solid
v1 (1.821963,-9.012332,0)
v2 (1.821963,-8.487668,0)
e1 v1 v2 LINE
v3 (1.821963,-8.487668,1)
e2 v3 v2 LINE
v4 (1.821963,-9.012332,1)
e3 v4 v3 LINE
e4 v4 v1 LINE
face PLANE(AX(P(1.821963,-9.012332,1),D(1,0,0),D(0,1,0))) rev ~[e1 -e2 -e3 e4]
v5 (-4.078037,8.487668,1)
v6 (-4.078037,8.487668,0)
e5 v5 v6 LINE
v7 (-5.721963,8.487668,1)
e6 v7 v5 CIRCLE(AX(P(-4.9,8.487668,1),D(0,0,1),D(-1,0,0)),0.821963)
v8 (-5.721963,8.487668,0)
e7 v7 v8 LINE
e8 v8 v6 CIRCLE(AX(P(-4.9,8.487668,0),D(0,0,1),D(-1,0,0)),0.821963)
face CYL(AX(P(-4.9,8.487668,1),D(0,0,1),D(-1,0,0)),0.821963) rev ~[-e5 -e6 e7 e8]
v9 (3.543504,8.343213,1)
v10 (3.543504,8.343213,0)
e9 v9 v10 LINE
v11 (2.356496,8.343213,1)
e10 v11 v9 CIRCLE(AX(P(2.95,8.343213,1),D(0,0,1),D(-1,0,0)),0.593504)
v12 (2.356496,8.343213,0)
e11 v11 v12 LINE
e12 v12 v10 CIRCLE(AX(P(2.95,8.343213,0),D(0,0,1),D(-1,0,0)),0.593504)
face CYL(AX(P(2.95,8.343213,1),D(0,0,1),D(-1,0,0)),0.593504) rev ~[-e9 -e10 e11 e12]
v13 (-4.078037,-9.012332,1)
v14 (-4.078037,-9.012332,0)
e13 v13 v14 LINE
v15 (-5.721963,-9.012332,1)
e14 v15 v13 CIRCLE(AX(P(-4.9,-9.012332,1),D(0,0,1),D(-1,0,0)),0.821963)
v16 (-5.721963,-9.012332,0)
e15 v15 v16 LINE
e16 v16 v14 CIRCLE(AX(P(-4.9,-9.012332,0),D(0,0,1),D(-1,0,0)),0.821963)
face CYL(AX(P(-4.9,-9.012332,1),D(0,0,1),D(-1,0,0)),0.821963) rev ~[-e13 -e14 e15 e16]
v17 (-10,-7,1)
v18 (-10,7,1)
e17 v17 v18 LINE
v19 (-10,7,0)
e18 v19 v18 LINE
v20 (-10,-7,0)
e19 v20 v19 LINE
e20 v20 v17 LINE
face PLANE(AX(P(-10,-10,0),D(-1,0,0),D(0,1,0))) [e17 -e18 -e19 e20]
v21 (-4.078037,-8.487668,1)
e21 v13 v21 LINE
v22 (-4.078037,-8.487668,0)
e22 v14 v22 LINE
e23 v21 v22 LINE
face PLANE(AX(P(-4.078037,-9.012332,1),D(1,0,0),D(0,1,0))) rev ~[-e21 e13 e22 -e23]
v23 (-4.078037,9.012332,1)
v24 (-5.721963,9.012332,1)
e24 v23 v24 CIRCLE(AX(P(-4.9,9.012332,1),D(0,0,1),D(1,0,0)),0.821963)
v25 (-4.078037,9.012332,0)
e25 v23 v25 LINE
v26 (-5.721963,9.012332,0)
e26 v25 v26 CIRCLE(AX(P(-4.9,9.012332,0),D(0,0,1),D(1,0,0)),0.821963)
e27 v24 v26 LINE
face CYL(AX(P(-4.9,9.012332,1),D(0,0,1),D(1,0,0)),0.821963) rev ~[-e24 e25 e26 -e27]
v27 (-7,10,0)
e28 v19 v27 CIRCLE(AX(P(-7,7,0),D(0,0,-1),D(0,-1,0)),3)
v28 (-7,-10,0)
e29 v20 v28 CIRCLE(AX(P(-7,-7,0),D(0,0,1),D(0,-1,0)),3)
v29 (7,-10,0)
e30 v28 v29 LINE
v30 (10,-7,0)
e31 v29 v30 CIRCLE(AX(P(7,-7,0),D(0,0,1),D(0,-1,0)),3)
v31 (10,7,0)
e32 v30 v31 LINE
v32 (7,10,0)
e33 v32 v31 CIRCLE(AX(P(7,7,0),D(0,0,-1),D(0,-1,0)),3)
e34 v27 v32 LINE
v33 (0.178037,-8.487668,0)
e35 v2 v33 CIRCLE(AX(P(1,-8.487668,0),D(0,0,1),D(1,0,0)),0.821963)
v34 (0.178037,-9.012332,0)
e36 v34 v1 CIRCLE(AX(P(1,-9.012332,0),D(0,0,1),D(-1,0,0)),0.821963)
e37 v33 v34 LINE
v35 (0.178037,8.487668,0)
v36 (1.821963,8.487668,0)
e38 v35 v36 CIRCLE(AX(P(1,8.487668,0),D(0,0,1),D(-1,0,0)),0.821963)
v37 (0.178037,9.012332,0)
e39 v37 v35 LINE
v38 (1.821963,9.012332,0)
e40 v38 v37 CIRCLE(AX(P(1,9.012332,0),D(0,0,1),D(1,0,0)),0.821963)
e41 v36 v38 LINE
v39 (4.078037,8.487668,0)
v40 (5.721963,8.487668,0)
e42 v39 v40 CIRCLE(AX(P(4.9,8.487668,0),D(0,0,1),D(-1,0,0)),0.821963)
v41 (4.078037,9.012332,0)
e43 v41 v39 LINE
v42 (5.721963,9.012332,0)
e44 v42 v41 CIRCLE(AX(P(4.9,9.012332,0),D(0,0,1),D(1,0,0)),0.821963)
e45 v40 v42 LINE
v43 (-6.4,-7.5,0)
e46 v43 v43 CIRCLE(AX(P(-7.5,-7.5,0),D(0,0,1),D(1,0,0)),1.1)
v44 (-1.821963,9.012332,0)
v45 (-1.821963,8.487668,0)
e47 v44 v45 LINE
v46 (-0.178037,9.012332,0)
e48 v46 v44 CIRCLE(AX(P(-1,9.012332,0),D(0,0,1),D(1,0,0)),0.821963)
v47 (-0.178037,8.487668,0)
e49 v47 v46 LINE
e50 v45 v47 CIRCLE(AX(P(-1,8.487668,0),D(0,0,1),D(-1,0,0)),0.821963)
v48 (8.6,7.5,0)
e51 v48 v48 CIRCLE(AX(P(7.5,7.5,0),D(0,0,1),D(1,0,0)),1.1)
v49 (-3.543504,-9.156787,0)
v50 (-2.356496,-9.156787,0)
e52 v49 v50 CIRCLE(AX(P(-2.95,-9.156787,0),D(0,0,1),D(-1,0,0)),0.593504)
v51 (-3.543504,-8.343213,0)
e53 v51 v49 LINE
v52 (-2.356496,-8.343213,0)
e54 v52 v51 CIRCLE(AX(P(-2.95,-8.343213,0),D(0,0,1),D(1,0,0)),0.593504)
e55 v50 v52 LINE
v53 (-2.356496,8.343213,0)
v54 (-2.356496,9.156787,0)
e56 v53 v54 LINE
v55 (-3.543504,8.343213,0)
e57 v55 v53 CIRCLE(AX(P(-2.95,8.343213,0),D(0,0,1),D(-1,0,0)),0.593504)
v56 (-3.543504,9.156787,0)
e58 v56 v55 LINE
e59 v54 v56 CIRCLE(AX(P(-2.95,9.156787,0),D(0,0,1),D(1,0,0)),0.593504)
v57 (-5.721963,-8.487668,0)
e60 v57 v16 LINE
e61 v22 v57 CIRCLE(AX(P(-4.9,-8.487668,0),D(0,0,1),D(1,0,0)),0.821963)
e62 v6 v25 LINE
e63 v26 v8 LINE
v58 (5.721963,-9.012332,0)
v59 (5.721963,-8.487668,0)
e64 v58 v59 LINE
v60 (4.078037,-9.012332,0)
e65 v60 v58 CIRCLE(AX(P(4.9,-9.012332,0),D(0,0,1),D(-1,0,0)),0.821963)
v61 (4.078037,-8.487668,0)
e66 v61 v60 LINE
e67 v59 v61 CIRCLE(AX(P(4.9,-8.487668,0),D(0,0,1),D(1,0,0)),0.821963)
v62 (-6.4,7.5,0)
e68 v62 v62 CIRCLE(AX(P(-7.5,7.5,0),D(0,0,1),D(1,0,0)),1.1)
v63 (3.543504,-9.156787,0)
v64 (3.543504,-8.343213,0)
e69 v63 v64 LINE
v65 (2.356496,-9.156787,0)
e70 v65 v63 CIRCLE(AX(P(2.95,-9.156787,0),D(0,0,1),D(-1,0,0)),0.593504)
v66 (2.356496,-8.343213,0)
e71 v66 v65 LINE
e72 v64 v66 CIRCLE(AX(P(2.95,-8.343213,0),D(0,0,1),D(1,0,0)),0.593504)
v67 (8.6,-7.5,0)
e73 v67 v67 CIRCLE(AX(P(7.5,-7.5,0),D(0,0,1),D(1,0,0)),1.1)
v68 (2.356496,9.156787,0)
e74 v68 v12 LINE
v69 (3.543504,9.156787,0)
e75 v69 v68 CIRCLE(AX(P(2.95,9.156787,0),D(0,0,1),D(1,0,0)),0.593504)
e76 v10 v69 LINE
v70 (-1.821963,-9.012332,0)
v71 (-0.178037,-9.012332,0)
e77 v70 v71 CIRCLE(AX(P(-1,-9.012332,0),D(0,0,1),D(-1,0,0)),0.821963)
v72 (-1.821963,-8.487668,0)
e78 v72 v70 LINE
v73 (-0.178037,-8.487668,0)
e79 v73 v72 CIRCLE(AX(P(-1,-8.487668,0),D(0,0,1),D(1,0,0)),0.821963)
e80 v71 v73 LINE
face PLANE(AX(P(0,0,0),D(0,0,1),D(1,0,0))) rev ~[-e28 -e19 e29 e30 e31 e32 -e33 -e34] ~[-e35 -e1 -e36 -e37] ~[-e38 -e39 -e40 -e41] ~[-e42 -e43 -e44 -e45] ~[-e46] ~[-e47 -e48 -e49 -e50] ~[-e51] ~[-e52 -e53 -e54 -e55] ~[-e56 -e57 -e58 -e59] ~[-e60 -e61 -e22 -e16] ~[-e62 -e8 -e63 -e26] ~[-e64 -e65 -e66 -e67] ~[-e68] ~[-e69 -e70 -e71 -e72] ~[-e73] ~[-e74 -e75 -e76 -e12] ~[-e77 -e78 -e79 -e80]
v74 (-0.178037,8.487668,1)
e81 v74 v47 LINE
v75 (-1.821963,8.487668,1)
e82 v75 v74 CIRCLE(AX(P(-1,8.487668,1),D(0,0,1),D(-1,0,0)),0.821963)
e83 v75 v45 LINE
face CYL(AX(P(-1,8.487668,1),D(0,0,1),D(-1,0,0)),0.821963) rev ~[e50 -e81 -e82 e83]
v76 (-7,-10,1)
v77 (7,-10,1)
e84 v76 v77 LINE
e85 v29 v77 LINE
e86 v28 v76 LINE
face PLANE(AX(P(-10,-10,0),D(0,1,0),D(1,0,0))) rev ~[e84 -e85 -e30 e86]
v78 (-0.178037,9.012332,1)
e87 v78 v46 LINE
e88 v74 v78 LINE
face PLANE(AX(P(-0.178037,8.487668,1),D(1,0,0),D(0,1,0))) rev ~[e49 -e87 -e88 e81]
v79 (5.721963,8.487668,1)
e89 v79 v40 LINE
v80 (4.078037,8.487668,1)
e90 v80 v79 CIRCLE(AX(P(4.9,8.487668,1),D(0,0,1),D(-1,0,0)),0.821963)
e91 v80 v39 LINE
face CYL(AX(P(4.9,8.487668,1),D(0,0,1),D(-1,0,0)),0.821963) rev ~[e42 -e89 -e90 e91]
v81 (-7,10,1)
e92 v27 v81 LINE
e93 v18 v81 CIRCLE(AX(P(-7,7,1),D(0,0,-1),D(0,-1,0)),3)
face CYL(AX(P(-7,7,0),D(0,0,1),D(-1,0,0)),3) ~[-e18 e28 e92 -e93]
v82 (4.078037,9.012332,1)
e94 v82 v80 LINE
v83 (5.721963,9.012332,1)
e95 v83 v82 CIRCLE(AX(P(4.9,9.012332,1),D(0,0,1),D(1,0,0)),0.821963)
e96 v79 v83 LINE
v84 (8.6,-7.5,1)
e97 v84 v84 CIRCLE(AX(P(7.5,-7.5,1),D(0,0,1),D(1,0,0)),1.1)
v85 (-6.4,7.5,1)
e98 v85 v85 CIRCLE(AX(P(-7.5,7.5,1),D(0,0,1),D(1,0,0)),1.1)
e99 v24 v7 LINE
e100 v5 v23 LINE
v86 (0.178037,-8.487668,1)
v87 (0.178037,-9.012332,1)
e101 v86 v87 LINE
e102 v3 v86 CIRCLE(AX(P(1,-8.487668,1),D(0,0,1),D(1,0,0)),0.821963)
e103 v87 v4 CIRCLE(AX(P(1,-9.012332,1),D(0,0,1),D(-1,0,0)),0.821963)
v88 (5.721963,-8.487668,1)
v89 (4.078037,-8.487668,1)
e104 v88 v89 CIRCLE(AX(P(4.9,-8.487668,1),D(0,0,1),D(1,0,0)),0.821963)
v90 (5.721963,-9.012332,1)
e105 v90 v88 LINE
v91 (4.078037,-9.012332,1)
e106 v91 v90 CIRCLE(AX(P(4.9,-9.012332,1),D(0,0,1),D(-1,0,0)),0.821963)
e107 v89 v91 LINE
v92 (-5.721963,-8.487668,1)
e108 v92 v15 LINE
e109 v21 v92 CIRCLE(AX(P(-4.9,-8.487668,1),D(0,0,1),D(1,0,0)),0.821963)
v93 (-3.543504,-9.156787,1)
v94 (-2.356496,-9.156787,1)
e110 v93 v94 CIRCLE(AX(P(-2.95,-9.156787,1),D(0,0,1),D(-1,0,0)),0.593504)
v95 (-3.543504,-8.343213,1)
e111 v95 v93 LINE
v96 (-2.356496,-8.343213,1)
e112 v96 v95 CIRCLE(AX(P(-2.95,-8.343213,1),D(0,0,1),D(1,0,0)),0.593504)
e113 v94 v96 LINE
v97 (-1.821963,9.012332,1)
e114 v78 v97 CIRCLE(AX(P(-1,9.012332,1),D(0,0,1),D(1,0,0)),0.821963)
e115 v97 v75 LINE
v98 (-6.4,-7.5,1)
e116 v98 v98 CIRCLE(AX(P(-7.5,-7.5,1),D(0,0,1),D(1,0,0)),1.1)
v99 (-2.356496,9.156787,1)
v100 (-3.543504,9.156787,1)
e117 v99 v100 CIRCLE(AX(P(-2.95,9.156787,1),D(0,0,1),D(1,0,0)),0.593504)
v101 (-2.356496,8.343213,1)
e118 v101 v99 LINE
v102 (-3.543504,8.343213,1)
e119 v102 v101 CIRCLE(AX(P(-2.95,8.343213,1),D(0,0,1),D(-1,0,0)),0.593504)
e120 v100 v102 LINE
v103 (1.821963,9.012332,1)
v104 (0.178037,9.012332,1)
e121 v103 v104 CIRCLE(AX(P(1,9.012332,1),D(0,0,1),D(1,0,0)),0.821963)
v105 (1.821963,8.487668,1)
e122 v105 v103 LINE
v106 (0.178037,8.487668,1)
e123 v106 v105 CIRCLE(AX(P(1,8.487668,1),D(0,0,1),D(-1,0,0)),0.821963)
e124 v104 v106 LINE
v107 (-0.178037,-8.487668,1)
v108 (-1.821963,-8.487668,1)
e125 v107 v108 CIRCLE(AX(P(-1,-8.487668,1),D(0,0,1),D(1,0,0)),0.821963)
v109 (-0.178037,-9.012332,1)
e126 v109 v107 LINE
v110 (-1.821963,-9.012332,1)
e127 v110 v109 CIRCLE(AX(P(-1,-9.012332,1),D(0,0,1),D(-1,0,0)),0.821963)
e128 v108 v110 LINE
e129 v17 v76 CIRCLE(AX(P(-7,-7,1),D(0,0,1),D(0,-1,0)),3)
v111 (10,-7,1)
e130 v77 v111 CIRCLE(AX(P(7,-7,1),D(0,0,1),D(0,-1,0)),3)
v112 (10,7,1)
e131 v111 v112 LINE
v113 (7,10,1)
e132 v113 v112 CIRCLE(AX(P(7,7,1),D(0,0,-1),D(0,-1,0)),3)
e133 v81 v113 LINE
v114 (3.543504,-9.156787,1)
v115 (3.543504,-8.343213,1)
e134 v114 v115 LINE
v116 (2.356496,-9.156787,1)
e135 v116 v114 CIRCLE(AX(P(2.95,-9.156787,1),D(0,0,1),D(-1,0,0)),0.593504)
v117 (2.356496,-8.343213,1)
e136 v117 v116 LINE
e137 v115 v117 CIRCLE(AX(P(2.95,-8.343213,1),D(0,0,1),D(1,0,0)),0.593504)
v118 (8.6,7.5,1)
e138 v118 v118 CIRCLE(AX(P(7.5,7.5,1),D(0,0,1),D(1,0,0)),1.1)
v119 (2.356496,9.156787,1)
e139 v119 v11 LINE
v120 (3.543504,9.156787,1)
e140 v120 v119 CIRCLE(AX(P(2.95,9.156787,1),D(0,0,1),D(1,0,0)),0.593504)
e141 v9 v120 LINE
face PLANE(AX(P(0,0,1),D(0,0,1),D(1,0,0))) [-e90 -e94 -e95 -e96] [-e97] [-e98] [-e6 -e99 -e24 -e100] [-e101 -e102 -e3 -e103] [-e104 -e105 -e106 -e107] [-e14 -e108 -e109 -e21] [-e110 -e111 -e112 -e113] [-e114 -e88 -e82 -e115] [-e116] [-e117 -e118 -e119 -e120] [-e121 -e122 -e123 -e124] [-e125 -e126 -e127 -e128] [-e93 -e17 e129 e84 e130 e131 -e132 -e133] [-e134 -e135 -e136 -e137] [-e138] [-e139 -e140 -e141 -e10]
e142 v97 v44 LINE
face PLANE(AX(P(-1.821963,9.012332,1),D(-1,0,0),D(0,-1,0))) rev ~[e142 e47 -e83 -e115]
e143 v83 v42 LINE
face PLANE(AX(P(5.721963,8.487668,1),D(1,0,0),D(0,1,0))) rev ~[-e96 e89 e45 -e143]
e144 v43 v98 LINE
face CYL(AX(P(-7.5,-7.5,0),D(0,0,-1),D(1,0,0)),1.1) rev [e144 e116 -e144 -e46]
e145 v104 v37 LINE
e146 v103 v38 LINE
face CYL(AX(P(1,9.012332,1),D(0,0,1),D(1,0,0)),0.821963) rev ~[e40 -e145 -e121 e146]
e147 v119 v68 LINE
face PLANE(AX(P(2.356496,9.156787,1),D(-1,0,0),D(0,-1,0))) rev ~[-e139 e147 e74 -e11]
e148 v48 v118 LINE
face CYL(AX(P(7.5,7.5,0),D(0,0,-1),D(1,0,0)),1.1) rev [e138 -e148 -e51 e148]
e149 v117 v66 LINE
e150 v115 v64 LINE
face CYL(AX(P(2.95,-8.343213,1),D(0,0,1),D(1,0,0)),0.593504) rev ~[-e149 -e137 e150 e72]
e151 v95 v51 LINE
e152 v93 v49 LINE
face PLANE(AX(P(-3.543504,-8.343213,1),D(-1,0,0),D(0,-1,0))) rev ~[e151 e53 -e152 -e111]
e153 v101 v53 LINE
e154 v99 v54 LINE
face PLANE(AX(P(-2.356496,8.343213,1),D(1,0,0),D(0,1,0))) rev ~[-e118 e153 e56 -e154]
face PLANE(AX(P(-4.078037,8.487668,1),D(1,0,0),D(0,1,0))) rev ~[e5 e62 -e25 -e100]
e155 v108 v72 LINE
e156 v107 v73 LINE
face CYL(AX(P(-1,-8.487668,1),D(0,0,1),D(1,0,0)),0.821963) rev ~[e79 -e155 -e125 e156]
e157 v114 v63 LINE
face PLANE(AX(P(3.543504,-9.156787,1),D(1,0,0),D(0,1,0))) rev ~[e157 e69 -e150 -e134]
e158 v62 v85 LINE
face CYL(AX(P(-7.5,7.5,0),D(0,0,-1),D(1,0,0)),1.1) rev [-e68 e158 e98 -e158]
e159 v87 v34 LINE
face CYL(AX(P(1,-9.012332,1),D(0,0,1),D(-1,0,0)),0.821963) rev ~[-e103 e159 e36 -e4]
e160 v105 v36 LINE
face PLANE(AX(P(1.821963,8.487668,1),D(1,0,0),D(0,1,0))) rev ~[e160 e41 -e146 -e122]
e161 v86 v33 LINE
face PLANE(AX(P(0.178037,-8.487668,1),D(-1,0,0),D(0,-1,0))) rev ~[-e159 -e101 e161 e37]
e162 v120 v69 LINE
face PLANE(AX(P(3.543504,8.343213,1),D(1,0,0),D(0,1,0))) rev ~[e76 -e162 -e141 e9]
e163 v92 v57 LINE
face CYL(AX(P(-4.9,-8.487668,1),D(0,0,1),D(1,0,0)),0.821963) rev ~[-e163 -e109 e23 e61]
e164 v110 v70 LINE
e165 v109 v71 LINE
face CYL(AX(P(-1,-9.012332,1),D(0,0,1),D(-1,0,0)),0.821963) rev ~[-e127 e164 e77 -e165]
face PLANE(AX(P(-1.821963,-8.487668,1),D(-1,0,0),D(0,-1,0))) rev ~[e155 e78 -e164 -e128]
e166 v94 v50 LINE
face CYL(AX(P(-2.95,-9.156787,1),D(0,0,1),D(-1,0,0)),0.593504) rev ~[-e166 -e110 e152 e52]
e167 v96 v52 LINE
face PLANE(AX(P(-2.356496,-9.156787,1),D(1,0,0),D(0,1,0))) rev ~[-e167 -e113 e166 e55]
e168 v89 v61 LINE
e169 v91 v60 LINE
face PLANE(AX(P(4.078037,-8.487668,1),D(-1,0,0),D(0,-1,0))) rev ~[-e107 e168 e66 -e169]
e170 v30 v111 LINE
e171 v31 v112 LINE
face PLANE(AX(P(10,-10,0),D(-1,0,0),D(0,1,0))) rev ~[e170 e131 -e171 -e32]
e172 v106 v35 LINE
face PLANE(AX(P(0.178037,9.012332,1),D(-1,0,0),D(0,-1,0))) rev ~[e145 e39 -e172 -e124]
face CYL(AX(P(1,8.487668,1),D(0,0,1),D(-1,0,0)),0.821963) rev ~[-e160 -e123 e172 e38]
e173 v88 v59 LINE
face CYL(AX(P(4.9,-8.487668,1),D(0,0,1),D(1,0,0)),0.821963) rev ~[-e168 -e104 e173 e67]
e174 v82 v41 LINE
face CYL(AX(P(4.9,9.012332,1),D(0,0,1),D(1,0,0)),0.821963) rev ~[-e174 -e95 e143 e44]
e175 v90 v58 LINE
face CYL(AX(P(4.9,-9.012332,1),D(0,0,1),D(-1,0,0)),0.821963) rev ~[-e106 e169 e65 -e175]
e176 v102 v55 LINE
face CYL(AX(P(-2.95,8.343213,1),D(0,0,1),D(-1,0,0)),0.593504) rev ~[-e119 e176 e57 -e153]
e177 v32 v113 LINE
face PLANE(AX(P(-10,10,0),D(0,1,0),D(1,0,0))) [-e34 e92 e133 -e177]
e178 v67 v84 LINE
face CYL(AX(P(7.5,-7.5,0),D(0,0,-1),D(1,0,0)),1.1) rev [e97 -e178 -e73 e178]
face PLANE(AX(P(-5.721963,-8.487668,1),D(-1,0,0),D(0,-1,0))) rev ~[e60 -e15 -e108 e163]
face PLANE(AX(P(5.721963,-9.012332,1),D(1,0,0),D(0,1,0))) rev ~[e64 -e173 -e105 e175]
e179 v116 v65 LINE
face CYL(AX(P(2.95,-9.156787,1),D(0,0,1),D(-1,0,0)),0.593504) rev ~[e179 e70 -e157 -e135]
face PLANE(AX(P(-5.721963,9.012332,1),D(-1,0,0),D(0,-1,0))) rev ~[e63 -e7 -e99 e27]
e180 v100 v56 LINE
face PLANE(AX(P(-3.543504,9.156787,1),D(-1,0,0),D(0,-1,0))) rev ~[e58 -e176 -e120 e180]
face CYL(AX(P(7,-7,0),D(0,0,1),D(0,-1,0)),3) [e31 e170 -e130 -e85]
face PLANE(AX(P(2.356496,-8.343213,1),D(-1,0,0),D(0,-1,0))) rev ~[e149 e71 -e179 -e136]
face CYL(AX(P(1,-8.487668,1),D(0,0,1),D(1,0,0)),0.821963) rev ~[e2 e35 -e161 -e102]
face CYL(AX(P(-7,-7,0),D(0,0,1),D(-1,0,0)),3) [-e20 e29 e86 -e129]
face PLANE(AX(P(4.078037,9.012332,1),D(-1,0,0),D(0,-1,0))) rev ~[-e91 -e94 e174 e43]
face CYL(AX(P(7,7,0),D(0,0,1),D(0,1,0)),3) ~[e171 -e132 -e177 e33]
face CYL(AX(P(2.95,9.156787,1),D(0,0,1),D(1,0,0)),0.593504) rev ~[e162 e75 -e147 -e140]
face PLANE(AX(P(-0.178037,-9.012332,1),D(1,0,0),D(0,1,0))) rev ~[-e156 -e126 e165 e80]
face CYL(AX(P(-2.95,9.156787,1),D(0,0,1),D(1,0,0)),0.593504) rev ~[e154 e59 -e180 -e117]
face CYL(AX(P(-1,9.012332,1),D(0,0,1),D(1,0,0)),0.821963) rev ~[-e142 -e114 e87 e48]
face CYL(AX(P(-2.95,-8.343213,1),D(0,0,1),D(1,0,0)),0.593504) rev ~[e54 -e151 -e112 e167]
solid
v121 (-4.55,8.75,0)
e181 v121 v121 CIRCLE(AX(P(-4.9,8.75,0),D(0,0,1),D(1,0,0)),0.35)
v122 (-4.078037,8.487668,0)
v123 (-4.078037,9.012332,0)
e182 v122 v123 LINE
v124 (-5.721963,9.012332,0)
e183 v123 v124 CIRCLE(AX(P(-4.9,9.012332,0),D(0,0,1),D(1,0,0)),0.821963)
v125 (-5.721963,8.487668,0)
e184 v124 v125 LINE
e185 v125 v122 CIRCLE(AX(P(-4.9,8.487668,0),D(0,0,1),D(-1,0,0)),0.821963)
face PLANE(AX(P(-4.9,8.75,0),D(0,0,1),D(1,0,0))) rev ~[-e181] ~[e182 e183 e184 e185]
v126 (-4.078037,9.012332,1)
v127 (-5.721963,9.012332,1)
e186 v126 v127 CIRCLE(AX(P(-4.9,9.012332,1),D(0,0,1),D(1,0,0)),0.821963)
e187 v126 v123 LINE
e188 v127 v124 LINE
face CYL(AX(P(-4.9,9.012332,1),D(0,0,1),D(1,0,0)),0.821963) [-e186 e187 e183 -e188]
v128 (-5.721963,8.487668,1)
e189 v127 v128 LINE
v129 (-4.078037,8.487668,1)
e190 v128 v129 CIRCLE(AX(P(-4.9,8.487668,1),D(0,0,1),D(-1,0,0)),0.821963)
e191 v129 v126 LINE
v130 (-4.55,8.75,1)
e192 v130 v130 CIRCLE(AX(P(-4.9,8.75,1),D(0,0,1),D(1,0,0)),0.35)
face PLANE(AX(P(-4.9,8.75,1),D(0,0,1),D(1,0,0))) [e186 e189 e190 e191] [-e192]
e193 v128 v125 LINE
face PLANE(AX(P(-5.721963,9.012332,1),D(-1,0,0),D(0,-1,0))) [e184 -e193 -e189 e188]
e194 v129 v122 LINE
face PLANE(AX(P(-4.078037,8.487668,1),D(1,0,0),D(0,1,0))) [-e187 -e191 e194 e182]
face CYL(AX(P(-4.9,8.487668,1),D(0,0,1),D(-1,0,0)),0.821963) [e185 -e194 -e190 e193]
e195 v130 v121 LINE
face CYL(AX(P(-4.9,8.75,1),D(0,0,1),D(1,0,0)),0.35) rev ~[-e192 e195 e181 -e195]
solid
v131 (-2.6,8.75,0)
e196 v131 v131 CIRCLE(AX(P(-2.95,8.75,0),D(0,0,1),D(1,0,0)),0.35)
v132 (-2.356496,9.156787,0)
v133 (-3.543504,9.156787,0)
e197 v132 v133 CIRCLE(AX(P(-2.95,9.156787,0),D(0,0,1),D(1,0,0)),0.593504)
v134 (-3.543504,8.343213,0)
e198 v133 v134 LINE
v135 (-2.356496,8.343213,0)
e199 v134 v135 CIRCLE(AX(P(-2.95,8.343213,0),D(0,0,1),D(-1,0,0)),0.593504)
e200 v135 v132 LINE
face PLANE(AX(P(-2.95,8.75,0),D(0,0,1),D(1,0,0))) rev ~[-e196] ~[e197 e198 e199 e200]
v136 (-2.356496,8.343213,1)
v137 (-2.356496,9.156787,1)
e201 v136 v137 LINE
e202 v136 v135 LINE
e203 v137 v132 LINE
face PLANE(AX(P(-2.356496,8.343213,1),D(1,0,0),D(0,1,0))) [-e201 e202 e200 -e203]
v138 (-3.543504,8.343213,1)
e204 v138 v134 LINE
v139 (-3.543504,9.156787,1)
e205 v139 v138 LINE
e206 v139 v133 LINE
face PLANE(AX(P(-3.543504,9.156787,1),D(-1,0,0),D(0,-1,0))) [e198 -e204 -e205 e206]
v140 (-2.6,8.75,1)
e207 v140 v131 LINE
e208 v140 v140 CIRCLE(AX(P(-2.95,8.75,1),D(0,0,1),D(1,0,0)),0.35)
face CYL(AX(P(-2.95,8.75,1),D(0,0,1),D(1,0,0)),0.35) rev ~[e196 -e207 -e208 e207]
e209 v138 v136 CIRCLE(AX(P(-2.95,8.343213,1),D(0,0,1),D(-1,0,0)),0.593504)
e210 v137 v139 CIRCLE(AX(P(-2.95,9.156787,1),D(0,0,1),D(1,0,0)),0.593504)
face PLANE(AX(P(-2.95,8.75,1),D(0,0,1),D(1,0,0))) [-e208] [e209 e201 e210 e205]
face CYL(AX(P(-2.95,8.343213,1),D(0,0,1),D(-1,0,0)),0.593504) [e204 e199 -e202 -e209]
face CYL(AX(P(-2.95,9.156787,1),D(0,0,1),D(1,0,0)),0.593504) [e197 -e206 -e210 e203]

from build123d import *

# Parameters (mm, degrees)
F0_W     = 20
F0_H     = 20
F0_R     = 1.1
F1_DEPTH = 1
F2_R     = 3
F3_R     = 0.35
F4_DEPTH = 25
F5_DEPTH = 1


with BuildPart() as f1:
    # F0 (on Top) → F1 (new body)
    with BuildSketch(Plane.XY):
        Rectangle(F0_W, F0_H)
        with Locations((-7.5, -7.5)):
            Circle(F0_R, mode=Mode.SUBTRACT)
        with Locations((7.5, -7.5)):
            Circle(F0_R, mode=Mode.SUBTRACT)
        with Locations((-7.5, 7.5)):
            Circle(F0_R, mode=Mode.SUBTRACT)
        with Locations((7.5, 7.5)):
            Circle(F0_R, mode=Mode.SUBTRACT)
    extrude(amount=F1_DEPTH)

    # F2
    f2_edges = [f1.edges().sort_by_distance(p)[0] for p in [
        (-10, -10, 0.5),
        (10, -10, 0.5),
        (10, 10, 0.5),
        (-10, 10, 0.5),
    ]]
    fillet(f2_edges, radius=F2_R)

    # F3 (on face) → F4 (cut)
    with BuildSketch(Plane.XY.offset(1)):
        with BuildLine():
            ThreePointArc((-4.0780374549, 9.0123321861), (-4.9, 9.8342947312), (-5.7219625451, 9.0123321861))
            Line((-5.7219625451, 9.0123321861), (-5.7219625451, 8.4876678139))
            ThreePointArc((-5.7219625451, 8.4876678139), (-4.9, 7.6657052688), (-4.0780374549, 8.4876678139))
            Line((-4.0780374549, 8.4876678139), (-4.0780374549, 9.0123321861))
        make_face()
        with Locations((-4.9, 8.75)):
            Circle(F3_R, mode=Mode.SUBTRACT)
        with BuildLine():
            Line((-0.1780374549, 8.4876678139), (-0.1780374549, 9.0123321861))
            ThreePointArc((-0.1780374549, 9.0123321861), (-1, 9.8342947312), (-1.8219625451, 9.0123321861))
            Line((-1.8219625451, 9.0123321861), (-1.8219625451, 8.4876678139))
            ThreePointArc((-1.8219625451, 8.4876678139), (-1, 7.6657052688), (-0.1780374549, 8.4876678139))
        make_face()
        with Locations((-1, 8.75)):
            Circle(F3_R, mode=Mode.SUBTRACT)
        with BuildLine():
            Line((0.1780374549, 9.0123321861), (0.1780374549, 8.4876678139))
            ThreePointArc((0.1780374549, 8.4876678139), (1, 7.6657052688), (1.8219625451, 8.4876678139))
            Line((1.8219625451, 8.4876678139), (1.8219625451, 9.0123321861))
            ThreePointArc((1.8219625451, 9.0123321861), (1, 9.8342947312), (0.1780374549, 9.0123321861))
        make_face()
        with Locations((1, 8.75)):
            Circle(F3_R, mode=Mode.SUBTRACT)
        with BuildLine():
            Line((5.7219625451, 8.4876678139), (5.7219625451, 9.0123321861))
            ThreePointArc((5.7219625451, 9.0123321861), (4.9, 9.8342947312), (4.0780374549, 9.0123321861))
            Line((4.0780374549, 9.0123321861), (4.0780374549, 8.4876678139))
            ThreePointArc((4.0780374549, 8.4876678139), (4.9, 7.6657052688), (5.7219625451, 8.4876678139))
        make_face()
        with Locations((4.9, 8.75)):
            Circle(F3_R, mode=Mode.SUBTRACT)
        with BuildLine():
            ThreePointArc((4.0780374549, -9.0123321861), (4.9, -9.8342947312), (5.7219625451, -9.0123321861))
            Line((5.7219625451, -9.0123321861), (5.7219625451, -8.4876678139))
            ThreePointArc((5.7219625451, -8.4876678139), (4.9, -7.6657052688), (4.0780374549, -8.4876678139))
            Line((4.0780374549, -8.4876678139), (4.0780374549, -9.0123321861))
        make_face()
        with Locations((4.9, -8.75)):
            Circle(F3_R, mode=Mode.SUBTRACT)
        with BuildLine():
            Line((1.8219625451, -9.0123321861), (1.8219625451, -8.4876678139))
            ThreePointArc((1.8219625451, -8.4876678139), (1, -7.6657052688), (0.1780374549, -8.4876678139))
            Line((0.1780374549, -8.4876678139), (0.1780374549, -9.0123321861))
            ThreePointArc((0.1780374549, -9.0123321861), (1, -9.8342947312), (1.8219625451, -9.0123321861))
        make_face()
        with Locations((1, -8.75)):
            Circle(F3_R, mode=Mode.SUBTRACT)
        with BuildLine():
            ThreePointArc((-0.1780374549, -8.4876678139), (-1, -7.6657052688), (-1.8219625451, -8.4876678139))
            Line((-1.8219625451, -8.4876678139), (-1.8219625451, -9.0123321861))
            ThreePointArc((-1.8219625451, -9.0123321861), (-1, -9.8342947312), (-0.1780374549, -9.0123321861))
            Line((-0.1780374549, -9.0123321861), (-0.1780374549, -8.4876678139))
        make_face()
        with Locations((-1, -8.75)):
            Circle(F3_R, mode=Mode.SUBTRACT)
        with BuildLine():
            Line((-5.7219625451, -8.4876678139), (-5.7219625451, -9.0123321861))
            ThreePointArc((-5.7219625451, -9.0123321861), (-4.9, -9.8342947312), (-4.0780374549, -9.0123321861))
            Line((-4.0780374549, -9.0123321861), (-4.0780374549, -8.4876678139))
            ThreePointArc((-4.0780374549, -8.4876678139), (-4.9, -7.6657052688), (-5.7219625451, -8.4876678139))
        make_face()
        with Locations((-4.9, -8.75)):
            Circle(F3_R, mode=Mode.SUBTRACT)
        with BuildLine():
            ThreePointArc((-2.3564959411, 9.1567868367), (-2.95, 9.7502908956), (-3.5435040589, 9.1567868367))
            Line((-3.5435040589, 9.1567868367), (-3.5435040589, 8.3432131633))
            ThreePointArc((-3.5435040589, 8.3432131633), (-2.95, 7.7497091044), (-2.3564959411, 8.3432131633))
            Line((-2.3564959411, 8.3432131633), (-2.3564959411, 9.1567868367))
        make_face()
        with Locations((-2.95, 8.75)):
            Circle(F3_R, mode=Mode.SUBTRACT)
        with BuildLine():
            Line((3.5435040589, 8.3432131633), (3.5435040589, 9.1567868367))
            ThreePointArc((3.5435040589, 9.1567868367), (2.95, 9.7502908956), (2.3564959411, 9.1567868367))
            Line((2.3564959411, 9.1567868367), (2.3564959411, 8.3432131633))
            ThreePointArc((2.3564959411, 8.3432131633), (2.95, 7.7497091044), (3.5435040589, 8.3432131633))
        make_face()
        with Locations((2.95, 8.75)):
            Circle(F3_R, mode=Mode.SUBTRACT)
        with BuildLine():
            ThreePointArc((2.3564959411, -9.1567868367), (2.95, -9.7502908956), (3.5435040589, -9.1567868367))
            Line((3.5435040589, -9.1567868367), (3.5435040589, -8.3432131633))
            ThreePointArc((3.5435040589, -8.3432131633), (2.95, -7.7497091044), (2.3564959411, -8.3432131633))
            Line((2.3564959411, -8.3432131633), (2.3564959411, -9.1567868367))
        make_face()
        with Locations((2.95, -8.75)):
            Circle(F3_R, mode=Mode.SUBTRACT)
        with BuildLine():
            Line((-2.3564959411, -9.1567868367), (-2.3564959411, -8.3432131633))
            ThreePointArc((-2.3564959411, -8.3432131633), (-2.95, -7.7497091044), (-3.5435040589, -8.3432131633))
            Line((-3.5435040589, -8.3432131633), (-3.5435040589, -9.1567868367))
            ThreePointArc((-3.5435040589, -9.1567868367), (-2.95, -9.7502908956), (-2.3564959411, -9.1567868367))
        make_face()
        with Locations((-2.95, -8.75)):
            Circle(F3_R, mode=Mode.SUBTRACT)
        with Locations((-4.9, 8.75)):
            Circle(F3_R)
        with Locations((-2.95, 8.75)):
            Circle(F3_R)
        with Locations((-1, 8.75)):
            Circle(F3_R)
        with Locations((1, 8.75)):
            Circle(F3_R)
        with Locations((2.95, 8.75)):
            Circle(F3_R)
        with Locations((4.9, 8.75)):
            Circle(F3_R)
        with Locations((4.9, -8.75)):
            Circle(F3_R)
        with Locations((2.95, -8.75)):
            Circle(F3_R)
        with Locations((1, -8.75)):
            Circle(F3_R)
        with Locations((-1, -8.75)):
            Circle(F3_R)
        with Locations((-2.95, -8.75)):
            Circle(F3_R)
        with Locations((-4.9, -8.75)):
            Circle(F3_R)
    extrude(amount=-F4_DEPTH, mode=Mode.SUBTRACT)


with BuildPart() as f5:
    # F3 (on face) → F5 (new body)
    with BuildSketch(Plane.XY.offset(1)):
        with BuildLine():
            ThreePointArc((-4.0780374549, 9.0123321861), (-4.9, 9.8342947312), (-5.7219625451, 9.0123321861))
            Line((-5.7219625451, 9.0123321861), (-5.7219625451, 8.4876678139))
            ThreePointArc((-5.7219625451, 8.4876678139), (-4.9, 7.6657052688), (-4.0780374549, 8.4876678139))
            Line((-4.0780374549, 8.4876678139), (-4.0780374549, 9.0123321861))
        make_face()
        with Locations((-4.9, 8.75)):
            Circle(F3_R, mode=Mode.SUBTRACT)
    extrude(amount=-F5_DEPTH)


with BuildPart() as f5b:
    # F3 (on face) → F5, piece 2 (new body)
    with BuildSketch(Plane.XY.offset(1)):
        with BuildLine():
            ThreePointArc((-2.3564959411, 9.1567868367), (-2.95, 9.7502908956), (-3.5435040589, 9.1567868367))
            Line((-3.5435040589, 9.1567868367), (-3.5435040589, 8.3432131633))
            ThreePointArc((-3.5435040589, 8.3432131633), (-2.95, 7.7497091044), (-2.3564959411, 8.3432131633))
            Line((-2.3564959411, 8.3432131633), (-2.3564959411, 9.1567868367))
        make_face()
        with Locations((-2.95, 8.75)):
            Circle(F3_R, mode=Mode.SUBTRACT)
    extrude(amount=-F5_DEPTH)


solid = Compound([f1.part, f5.part, f5b.part])
